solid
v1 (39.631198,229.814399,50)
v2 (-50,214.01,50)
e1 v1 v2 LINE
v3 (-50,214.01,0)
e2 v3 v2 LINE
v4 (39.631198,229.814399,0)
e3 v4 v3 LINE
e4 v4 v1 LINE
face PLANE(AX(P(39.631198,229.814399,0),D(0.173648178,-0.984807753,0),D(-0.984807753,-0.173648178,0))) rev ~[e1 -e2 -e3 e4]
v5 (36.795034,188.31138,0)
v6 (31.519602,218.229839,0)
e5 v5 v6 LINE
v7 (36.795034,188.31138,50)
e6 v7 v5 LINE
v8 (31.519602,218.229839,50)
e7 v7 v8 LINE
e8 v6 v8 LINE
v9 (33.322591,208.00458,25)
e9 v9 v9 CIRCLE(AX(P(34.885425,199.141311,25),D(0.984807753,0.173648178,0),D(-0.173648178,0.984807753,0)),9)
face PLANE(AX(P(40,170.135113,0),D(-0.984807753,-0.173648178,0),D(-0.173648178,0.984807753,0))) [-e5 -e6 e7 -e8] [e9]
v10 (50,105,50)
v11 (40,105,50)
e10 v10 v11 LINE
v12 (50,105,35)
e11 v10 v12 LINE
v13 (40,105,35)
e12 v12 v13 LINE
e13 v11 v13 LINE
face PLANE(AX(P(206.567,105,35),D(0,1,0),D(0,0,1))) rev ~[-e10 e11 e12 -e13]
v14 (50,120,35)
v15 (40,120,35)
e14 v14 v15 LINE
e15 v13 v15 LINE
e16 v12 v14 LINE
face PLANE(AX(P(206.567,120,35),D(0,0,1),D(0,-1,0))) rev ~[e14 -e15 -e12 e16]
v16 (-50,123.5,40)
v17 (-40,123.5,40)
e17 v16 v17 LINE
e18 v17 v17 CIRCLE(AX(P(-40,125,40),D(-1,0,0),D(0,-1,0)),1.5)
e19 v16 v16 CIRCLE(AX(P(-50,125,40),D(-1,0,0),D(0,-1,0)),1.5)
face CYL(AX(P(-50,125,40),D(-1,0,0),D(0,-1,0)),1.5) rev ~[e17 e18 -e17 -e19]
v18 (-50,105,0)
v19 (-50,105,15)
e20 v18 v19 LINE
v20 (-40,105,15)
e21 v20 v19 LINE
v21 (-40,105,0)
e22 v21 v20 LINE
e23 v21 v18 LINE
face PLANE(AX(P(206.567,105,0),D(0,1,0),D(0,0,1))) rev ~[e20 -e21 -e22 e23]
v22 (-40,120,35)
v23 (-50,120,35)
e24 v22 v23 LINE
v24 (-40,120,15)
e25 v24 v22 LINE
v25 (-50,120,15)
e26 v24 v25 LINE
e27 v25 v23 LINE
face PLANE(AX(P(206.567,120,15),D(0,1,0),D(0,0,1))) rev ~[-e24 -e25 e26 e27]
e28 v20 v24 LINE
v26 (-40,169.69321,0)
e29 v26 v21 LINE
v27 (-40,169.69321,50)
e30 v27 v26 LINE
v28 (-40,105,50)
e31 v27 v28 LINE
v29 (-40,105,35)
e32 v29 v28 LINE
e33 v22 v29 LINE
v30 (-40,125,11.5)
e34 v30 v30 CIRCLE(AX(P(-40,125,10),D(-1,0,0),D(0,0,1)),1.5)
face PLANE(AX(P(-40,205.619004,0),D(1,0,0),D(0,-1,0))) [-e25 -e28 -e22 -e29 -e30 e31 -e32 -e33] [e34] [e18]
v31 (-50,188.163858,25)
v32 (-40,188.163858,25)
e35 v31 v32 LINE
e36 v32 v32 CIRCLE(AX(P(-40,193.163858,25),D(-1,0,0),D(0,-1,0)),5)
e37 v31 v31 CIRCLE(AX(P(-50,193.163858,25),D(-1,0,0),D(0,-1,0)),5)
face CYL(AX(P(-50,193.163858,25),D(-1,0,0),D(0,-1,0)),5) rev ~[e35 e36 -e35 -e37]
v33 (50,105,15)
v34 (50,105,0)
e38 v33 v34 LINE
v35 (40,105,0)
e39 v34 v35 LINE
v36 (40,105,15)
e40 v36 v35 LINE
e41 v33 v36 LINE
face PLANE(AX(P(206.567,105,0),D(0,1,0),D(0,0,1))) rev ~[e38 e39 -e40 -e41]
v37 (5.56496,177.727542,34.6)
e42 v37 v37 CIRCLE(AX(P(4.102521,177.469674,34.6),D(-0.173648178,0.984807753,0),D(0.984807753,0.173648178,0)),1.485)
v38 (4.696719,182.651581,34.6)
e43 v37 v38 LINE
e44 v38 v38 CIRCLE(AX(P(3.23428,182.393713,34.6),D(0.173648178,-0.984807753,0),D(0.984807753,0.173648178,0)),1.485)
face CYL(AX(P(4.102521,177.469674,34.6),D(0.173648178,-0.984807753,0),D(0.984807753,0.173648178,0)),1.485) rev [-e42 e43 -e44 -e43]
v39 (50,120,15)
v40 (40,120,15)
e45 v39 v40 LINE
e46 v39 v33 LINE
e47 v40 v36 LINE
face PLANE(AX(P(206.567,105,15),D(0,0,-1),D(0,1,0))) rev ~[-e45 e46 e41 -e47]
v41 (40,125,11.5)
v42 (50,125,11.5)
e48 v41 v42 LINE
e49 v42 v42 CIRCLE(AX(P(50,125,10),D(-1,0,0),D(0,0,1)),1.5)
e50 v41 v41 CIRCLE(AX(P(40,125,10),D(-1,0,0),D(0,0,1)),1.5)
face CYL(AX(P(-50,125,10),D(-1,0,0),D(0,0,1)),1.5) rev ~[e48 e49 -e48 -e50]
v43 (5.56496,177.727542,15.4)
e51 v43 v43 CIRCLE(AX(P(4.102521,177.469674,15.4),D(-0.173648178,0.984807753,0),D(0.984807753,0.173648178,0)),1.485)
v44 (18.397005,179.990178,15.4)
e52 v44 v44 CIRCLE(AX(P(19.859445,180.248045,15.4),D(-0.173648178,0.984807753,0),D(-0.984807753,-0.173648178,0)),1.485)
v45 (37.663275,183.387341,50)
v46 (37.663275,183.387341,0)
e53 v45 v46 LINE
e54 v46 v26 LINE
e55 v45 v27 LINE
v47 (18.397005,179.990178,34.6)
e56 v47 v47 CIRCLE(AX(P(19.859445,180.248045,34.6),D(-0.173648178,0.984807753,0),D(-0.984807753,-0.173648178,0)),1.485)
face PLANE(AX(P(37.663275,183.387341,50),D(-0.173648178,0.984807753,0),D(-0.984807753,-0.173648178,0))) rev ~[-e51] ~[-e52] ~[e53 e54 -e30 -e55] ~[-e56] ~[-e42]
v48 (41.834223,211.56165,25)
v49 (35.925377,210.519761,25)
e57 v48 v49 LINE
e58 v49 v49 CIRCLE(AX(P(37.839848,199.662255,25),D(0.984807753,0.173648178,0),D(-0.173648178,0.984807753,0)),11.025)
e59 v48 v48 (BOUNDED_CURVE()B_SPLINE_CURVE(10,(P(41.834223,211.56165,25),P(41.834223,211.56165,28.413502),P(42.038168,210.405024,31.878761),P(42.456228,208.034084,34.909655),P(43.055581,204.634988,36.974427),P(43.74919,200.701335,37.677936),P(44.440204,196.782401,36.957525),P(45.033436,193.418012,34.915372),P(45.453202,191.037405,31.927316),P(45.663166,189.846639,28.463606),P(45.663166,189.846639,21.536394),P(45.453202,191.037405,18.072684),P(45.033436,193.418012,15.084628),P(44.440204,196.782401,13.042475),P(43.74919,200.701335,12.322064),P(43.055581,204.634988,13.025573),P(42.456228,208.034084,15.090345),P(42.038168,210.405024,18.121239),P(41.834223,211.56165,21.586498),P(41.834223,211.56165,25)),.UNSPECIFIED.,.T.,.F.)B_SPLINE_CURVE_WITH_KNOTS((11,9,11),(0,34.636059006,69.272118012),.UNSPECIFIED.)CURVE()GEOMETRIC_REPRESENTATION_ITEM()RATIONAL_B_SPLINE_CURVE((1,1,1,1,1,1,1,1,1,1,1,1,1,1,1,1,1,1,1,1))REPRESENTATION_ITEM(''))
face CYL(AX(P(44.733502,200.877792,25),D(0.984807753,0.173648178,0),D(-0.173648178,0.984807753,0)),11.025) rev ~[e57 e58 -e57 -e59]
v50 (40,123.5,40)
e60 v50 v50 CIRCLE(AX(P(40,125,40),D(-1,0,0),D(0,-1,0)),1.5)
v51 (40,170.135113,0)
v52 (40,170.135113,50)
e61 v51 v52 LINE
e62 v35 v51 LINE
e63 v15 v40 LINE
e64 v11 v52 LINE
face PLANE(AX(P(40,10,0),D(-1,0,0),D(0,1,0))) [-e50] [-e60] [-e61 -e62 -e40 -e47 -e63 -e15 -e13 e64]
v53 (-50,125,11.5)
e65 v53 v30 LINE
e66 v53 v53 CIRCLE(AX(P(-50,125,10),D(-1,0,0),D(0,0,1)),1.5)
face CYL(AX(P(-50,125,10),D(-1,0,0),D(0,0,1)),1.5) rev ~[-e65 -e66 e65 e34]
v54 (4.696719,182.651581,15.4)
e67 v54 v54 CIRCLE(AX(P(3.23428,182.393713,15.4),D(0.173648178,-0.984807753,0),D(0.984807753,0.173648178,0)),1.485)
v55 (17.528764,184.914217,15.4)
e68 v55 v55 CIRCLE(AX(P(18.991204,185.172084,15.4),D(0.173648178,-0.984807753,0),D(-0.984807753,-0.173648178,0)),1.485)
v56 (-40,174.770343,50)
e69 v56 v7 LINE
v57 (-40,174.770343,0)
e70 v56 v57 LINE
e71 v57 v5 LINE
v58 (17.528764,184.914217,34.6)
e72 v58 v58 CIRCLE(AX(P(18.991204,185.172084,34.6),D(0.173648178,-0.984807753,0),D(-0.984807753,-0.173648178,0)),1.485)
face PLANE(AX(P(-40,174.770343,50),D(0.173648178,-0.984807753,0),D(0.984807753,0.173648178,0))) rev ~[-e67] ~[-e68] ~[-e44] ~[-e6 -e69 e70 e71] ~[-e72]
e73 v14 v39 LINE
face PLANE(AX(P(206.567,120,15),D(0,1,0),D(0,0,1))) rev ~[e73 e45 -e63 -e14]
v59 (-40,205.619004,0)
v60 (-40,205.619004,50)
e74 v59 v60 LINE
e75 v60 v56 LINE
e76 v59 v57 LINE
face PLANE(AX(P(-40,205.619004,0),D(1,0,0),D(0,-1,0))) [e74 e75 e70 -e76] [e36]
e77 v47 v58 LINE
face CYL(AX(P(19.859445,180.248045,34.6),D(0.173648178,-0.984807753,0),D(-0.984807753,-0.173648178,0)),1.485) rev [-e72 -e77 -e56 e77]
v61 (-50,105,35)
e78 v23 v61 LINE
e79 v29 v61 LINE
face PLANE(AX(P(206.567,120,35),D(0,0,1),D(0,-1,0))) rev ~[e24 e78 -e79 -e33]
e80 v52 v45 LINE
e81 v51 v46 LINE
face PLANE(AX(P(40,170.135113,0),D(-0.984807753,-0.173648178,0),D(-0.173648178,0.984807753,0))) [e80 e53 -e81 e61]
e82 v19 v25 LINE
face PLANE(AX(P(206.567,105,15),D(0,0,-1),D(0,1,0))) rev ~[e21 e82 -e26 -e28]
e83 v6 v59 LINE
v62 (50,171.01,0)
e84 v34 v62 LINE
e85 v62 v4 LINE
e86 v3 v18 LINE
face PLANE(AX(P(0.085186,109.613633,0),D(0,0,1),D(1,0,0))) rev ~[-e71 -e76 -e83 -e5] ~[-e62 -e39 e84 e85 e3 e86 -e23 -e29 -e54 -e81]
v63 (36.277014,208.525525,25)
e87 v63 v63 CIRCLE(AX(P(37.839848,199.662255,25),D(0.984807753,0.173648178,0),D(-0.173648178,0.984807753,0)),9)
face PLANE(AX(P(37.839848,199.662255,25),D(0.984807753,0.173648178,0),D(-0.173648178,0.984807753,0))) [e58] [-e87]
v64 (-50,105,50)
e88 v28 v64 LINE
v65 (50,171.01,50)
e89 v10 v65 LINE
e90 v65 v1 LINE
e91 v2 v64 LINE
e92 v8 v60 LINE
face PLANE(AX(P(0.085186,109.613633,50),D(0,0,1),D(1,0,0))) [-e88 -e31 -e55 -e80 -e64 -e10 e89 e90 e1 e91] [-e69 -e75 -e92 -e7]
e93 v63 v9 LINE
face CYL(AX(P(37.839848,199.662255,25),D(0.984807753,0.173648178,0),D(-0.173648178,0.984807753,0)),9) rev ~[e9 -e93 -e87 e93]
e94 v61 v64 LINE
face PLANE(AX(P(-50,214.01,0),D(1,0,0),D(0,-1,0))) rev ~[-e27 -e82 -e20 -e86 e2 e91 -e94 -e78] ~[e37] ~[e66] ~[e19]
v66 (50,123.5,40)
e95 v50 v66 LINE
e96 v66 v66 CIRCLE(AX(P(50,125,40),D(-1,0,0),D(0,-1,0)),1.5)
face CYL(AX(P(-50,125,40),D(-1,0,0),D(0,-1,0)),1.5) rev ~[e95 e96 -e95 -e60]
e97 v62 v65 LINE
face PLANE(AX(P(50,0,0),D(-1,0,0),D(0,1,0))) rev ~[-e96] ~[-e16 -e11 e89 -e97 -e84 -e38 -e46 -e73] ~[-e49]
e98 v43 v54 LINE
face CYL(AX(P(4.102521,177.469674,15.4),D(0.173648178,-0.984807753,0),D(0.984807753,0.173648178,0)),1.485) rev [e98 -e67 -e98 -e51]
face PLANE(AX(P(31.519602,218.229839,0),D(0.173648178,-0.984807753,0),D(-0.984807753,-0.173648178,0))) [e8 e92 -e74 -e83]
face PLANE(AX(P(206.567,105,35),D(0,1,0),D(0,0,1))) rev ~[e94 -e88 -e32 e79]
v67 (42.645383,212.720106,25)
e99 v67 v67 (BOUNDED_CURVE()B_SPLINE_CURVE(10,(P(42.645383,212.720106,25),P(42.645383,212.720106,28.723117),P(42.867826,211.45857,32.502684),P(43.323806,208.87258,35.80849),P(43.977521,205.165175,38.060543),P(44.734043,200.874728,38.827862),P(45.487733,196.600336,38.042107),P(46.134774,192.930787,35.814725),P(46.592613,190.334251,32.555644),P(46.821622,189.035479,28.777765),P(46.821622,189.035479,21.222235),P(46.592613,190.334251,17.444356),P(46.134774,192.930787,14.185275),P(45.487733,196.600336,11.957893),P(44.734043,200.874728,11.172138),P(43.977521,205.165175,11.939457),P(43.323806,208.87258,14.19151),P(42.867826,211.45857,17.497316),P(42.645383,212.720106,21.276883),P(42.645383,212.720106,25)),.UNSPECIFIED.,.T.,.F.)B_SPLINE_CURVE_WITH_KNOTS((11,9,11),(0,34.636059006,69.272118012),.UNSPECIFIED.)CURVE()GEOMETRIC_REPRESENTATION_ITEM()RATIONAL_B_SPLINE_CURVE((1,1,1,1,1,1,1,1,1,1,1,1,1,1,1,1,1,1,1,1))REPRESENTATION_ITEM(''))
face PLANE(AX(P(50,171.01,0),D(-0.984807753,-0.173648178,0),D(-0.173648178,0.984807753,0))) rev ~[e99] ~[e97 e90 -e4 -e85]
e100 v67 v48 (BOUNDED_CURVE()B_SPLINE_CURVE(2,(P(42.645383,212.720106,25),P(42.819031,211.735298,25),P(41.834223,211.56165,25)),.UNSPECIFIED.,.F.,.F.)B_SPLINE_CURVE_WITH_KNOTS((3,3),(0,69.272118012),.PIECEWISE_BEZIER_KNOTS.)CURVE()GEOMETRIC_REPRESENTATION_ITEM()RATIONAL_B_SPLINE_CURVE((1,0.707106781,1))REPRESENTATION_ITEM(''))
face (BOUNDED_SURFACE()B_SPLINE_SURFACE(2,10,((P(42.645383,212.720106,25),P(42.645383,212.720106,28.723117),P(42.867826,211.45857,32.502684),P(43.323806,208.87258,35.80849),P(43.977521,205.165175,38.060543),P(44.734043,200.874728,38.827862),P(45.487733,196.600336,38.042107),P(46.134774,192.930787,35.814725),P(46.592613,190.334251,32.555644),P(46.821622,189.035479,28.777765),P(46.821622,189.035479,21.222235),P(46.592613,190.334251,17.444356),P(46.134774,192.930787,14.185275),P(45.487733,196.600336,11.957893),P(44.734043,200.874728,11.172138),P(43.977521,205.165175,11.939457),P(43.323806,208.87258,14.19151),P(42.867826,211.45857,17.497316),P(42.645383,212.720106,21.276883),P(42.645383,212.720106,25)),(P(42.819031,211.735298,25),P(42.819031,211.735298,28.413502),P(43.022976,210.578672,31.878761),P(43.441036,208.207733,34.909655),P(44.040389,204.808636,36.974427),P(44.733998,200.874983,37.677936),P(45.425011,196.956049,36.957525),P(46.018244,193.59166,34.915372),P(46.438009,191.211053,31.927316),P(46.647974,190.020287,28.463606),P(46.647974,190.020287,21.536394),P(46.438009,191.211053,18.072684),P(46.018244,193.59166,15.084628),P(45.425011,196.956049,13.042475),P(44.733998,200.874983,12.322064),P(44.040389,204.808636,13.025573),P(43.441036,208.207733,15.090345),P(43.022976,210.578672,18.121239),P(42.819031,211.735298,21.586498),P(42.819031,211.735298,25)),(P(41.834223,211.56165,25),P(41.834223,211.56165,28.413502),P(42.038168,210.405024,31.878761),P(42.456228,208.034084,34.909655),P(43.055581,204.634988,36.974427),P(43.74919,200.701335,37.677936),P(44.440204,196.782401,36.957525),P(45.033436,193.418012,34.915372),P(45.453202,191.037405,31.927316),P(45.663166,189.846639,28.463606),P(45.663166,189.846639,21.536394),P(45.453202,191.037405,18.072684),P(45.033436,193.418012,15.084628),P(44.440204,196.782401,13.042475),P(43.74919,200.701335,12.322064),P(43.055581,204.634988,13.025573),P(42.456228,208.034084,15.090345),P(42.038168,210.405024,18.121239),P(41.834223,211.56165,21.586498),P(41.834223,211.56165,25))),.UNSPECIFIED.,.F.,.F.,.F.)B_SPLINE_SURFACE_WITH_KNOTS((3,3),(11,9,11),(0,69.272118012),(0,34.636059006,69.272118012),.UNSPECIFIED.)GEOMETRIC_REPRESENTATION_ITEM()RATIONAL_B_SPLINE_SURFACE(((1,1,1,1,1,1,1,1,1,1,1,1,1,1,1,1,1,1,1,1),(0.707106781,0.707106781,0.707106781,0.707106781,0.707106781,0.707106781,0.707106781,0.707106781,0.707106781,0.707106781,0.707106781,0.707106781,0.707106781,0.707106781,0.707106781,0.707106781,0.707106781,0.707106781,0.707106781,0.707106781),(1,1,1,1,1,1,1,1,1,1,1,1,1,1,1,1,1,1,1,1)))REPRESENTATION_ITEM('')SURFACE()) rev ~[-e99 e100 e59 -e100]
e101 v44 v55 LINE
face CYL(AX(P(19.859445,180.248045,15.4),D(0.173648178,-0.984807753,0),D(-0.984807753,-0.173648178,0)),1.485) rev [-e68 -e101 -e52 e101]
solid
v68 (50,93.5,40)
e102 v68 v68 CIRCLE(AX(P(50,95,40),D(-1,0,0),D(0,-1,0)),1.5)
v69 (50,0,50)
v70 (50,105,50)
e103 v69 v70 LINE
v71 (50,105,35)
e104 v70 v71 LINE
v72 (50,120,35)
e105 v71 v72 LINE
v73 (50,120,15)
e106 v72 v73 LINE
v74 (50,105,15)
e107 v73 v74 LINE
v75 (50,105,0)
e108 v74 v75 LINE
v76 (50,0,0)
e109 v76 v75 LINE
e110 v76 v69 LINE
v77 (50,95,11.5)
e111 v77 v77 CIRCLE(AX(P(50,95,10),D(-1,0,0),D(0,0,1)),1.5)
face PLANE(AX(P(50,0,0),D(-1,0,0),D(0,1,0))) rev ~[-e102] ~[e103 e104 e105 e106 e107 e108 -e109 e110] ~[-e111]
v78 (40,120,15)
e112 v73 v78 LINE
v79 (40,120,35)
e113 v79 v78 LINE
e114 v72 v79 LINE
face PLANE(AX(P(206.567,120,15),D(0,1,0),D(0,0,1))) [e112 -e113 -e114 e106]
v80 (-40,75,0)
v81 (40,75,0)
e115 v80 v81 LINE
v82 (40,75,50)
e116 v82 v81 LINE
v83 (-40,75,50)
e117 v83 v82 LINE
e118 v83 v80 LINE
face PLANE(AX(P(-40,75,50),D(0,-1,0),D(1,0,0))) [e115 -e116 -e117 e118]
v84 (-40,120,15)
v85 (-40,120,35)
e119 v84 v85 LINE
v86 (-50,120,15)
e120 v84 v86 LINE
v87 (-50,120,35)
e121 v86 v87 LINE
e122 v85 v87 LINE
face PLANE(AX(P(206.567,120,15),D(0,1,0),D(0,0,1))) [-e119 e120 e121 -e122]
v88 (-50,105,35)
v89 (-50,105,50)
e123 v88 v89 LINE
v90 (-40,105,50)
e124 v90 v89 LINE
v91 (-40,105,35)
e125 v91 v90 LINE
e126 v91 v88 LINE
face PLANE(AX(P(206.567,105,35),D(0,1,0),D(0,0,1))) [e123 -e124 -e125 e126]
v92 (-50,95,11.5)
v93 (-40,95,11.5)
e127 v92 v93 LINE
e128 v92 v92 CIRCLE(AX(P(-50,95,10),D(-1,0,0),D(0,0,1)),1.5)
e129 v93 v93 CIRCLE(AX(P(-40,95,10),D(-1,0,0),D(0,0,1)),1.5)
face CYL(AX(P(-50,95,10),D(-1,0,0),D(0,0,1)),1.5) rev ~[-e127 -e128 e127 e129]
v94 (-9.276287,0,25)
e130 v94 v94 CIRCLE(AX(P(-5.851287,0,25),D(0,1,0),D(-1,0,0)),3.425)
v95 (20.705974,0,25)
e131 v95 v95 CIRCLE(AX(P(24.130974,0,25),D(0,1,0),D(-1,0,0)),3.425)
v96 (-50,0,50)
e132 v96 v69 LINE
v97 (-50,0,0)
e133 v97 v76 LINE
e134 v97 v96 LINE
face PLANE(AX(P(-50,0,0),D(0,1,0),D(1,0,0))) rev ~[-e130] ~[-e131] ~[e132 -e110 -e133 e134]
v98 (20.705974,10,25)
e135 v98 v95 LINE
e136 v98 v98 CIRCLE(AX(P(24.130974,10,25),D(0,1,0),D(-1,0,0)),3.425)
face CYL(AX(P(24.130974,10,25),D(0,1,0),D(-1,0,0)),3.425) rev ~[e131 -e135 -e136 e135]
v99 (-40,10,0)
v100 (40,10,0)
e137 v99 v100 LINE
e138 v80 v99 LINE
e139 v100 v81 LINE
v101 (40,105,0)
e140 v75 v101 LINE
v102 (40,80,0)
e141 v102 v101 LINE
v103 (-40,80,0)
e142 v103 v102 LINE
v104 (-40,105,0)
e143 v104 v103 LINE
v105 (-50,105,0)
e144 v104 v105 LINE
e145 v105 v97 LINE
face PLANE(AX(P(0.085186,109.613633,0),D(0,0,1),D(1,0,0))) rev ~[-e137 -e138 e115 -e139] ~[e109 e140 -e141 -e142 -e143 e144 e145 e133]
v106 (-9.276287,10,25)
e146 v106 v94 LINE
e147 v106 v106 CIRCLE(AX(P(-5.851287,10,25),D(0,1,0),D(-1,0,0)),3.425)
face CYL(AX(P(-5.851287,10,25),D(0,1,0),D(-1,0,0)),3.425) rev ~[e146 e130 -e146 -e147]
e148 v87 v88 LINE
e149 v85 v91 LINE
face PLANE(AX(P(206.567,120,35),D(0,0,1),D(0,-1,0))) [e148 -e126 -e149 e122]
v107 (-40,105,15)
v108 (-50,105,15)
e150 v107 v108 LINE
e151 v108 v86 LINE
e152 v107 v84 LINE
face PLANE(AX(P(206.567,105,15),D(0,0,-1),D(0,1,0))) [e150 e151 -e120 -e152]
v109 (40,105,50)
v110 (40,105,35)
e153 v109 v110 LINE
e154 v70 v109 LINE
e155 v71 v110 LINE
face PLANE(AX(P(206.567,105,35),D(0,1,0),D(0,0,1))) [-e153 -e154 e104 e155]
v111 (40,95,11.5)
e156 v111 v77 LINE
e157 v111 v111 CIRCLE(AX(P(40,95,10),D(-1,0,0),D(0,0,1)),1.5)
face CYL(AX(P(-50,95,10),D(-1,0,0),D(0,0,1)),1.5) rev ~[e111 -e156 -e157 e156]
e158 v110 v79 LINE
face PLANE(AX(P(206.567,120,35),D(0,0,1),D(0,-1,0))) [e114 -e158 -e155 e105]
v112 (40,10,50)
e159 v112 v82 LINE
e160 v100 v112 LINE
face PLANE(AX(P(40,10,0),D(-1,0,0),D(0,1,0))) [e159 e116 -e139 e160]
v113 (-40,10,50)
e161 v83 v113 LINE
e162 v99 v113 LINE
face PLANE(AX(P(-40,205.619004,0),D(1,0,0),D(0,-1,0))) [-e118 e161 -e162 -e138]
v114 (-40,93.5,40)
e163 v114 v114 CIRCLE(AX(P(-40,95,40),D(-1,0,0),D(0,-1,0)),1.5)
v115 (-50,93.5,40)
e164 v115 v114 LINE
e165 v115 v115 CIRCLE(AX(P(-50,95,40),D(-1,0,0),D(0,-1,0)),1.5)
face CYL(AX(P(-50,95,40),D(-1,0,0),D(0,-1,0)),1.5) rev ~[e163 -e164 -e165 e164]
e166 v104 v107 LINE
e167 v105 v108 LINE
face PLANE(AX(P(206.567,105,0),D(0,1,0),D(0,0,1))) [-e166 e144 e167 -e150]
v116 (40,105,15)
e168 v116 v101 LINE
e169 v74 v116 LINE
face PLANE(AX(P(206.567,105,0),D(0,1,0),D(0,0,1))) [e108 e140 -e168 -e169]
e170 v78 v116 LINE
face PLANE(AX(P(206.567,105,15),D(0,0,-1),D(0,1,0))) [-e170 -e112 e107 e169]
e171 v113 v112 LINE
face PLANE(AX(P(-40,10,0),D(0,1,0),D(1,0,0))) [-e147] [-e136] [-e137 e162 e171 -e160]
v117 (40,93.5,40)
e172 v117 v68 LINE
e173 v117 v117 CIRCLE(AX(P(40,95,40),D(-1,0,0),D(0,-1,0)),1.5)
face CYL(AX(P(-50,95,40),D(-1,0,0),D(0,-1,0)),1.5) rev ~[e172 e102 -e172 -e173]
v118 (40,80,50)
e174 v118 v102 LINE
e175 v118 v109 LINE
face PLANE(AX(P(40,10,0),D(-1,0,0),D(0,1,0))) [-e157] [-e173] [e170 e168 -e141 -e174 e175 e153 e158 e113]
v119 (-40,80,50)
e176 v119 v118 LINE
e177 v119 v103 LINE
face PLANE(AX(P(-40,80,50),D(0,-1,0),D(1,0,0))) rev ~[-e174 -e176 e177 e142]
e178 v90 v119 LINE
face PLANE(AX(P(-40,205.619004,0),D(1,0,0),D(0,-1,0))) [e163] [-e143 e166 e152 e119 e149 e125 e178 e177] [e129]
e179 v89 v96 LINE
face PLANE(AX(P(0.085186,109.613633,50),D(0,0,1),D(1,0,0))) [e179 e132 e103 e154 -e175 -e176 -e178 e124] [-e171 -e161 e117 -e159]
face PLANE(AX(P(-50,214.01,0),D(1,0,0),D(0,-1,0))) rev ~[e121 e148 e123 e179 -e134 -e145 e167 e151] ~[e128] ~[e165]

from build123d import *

# Parameters (mm, degrees)
BOSS_EXTRUDE1_DEPTH    = 50
SKETCH4_R              = 11.025
CUT_EXTRUDE1_DEPTH     = 7
SKETCH5_R              = 9
CUT_EXTRUDE2_DEPTH     = 7
BOSS_EXTRUDE2_DEPTH    = 50
SKETCH8_R              = 5
CUT_EXTRUDE3_DEPTH     = 10
CUT_EXTRUDE4_REACH     = 271.61
SKETCH9_R              = 1.485
SKETCH10_R             = 3.425
CUT_EXTRUDE5_DEPTH     = 10
SKETCH11_W             = 80
SKETCH11_H             = 5
BOSS_EXTRUDE3_DEPTH    = 50
FILLET1_R              = 1
SKETCH14_R             = 1.5
CUT_EXTRUDE6_DEPTH     = 256.567325306
SPLIT1_SURFACE_1_BACK  = 256.567
SPLIT1_SURFACE_1_DEPTH = 513.134
SPLIT1_SURFACE_2_BACK  = 256.567
SPLIT1_SURFACE_2_DEPTH = 513.134


with BuildPart() as part:
    # Sketch2 → Boss-Extrude1 (new body)
    with BuildSketch(Plane.XY):
        Polygon((-50, 214.01), (-50, 0), (50, 0), (50, 171.01), (39.631197958, 229.814398513), align=None)
        Polygon((-40, 205.619003688), (-40, 10), (40, 10), (40, 170.135113365), (31.519602204, 218.229839206), align=None, mode=Mode.SUBTRACT)
    extrude(amount=BOSS_EXTRUDE1_DEPTH)

    # Sketch4 → Cut-Extrude1 (cut)
    with BuildSketch(Plane(origin=(77.736747875, 13.707086043, 0), x_dir=(0, 0, -1), z_dir=(0.9848077530122079, 0.17364817766693136, 0))):
        with Locations(Location((-25, 190.058116105, 0), (0, 0, 90))):
            Circle(SKETCH4_R)
    extrude(amount=-CUT_EXTRUDE1_DEPTH, mode=Mode.SUBTRACT)

    # Sketch5 → Cut-Extrude2 (cut)
    with BuildSketch(Plane(origin=(70.843093604, 12.491548799, 0), x_dir=(0, 0, -1), z_dir=(0.9848077530122079, 0.17364817766693136, 0))):
        with Locations(Location((-25, 190.058116105, 0), (0, 0, 90))):
            Circle(SKETCH5_R)
    extrude(amount=-CUT_EXTRUDE2_DEPTH, mode=Mode.SUBTRACT)

    # Sketch7 → Boss-Extrude2 (add)
    with BuildSketch(Plane.XY.offset(50)):
        Polygon((36.795033842, 188.31137967), (37.66327473, 183.387340905), (-40, 169.69321016), (-40, 174.770343219), align=None)
    extrude(amount=-BOSS_EXTRUDE2_DEPTH)

    # Sketch8 → Cut-Extrude3 (cut)
    with BuildSketch(Plane.ZY.offset(50)):
        with Locations(Location((25, 193.163858422, 0), (0, 0, 270))):
            Circle(SKETCH8_R)
    extrude(amount=-CUT_EXTRUDE3_DEPTH, mode=Mode.SUBTRACT)

    # Sketch9 → Cut-Extrude4 (cut, up to next)
    with BuildSketch(Plane(origin=(125.115031087, 198.807445061, 0), x_dir=(-0.9848077530122079, -0.17364817766693152, 0), z_dir=(-0.17364817766693152, 0.9848077530122079, 0)), mode=Mode.PRIVATE) as cut_extrude4_sk1:
        with Locations((106.879323392, 15.4)):
            Circle(SKETCH9_R)
    cut_extrude4_tool1 = extrude(cut_extrude4_sk1.sketch, amount=CUT_EXTRUDE4_REACH, mode=Mode.PRIVATE) & part.part
    # Sketch9 → Cut-Extrude4 (cut, up to next)
    with BuildSketch(Plane(origin=(125.115031087, 198.807445061, 0), x_dir=(-0.9848077530122079, -0.17364817766693152, 0), z_dir=(-0.17364817766693152, 0.9848077530122079, 0)), mode=Mode.PRIVATE) as cut_extrude4_sk2:
        with Locations((106.879323392, 34.6)):
            Circle(SKETCH9_R)
    cut_extrude4_tool2 = extrude(cut_extrude4_sk2.sketch, amount=CUT_EXTRUDE4_REACH, mode=Mode.PRIVATE) & part.part
    # Sketch9 → Cut-Extrude4 (cut, up to next)
    with BuildSketch(Plane(origin=(125.115031087, 198.807445061, 0), x_dir=(-0.9848077530122079, -0.17364817766693152, 0), z_dir=(-0.17364817766693152, 0.9848077530122079, 0)), mode=Mode.PRIVATE) as cut_extrude4_sk3:
        with Locations(Location((122.879323392, 34.6, 0), (0, 0, 180))):
            Circle(SKETCH9_R)
    cut_extrude4_tool3 = extrude(cut_extrude4_sk3.sketch, amount=CUT_EXTRUDE4_REACH, mode=Mode.PRIVATE) & part.part
    # Sketch9 → Cut-Extrude4 (cut, up to next)
    with BuildSketch(Plane(origin=(125.115031087, 198.807445061, 0), x_dir=(-0.9848077530122079, -0.17364817766693152, 0), z_dir=(-0.17364817766693152, 0.9848077530122079, 0)), mode=Mode.PRIVATE) as cut_extrude4_sk4:
        with Locations(Location((122.879323392, 15.4, 0), (0, 0, 180))):
            Circle(SKETCH9_R)
    cut_extrude4_tool4 = extrude(cut_extrude4_sk4.sketch, amount=CUT_EXTRUDE4_REACH, mode=Mode.PRIVATE) & part.part
    add(cut_extrude4_tool1.solids().sort_by_distance((19.859445, 180.248045, 15.4))[0], mode=Mode.SUBTRACT)
    add(cut_extrude4_tool2.solids().sort_by_distance((19.859445, 180.248045, 34.6))[0], mode=Mode.SUBTRACT)
    add(cut_extrude4_tool3.solids().sort_by_distance((4.102521, 177.469674, 34.6))[0], mode=Mode.SUBTRACT)
    add(cut_extrude4_tool4.solids().sort_by_distance((4.102521, 177.469674, 15.4))[0], mode=Mode.SUBTRACT)

    # Sketch10 → Cut-Extrude5 (cut)
    with BuildSketch(Plane(origin=(0, 10, 0), x_dir=(1, 0, 0), z_dir=(0, 1, 0))):
        with Locations(Location((-5.851287133, -25, 0), (0, 0, 180))):
            Circle(SKETCH10_R)
        with Locations(Location((24.130974018, -25, 0), (0, 0, 180))):
            Circle(SKETCH10_R)
    extrude(amount=-CUT_EXTRUDE5_DEPTH, mode=Mode.SUBTRACT)

    # Sketch11 → Boss-Extrude3 (add)
    with BuildSketch(Plane.XY.offset(50)):
        with Locations((0, 77.5)):
            Rectangle(SKETCH11_W, SKETCH11_H)
    extrude(amount=-BOSS_EXTRUDE3_DEPTH)

    # Fillet1
    fillet1_edges = [part.edges().sort_by_distance(p)[0] for p in [
        (46.647973521, 190.020286829, 25),
    ]]
    fillet(fillet1_edges, radius=FILLET1_R)

    # Sketch14 → Cut-Extrude6 (cut, through all)
    with BuildSketch(Plane.ZY.offset(50)):
        with Locations(Location((40, 125, 0), (0, 0, 270))):
            Circle(SKETCH14_R)
        with Locations(Location((40, 95, 0), (0, 0, 270))):
            Circle(SKETCH14_R)
        with Locations((10, 95)):
            Circle(SKETCH14_R)
        with Locations((10, 125)):
            Circle(SKETCH14_R)
    extrude(amount=-CUT_EXTRUDE6_DEPTH, mode=Mode.SUBTRACT)


with BuildPart() as body_2:
    # Split1: the piece behind the surface
    add(part.part)
    # Split1 surface: a surface, the sketch's curves swept straight by 513.134 mm
    with BuildLine(Plane.ZY.offset(50).offset(-SPLIT1_SURFACE_1_BACK), mode=Mode.PRIVATE) as split1_surface_1_path:
        Line((0, 105), (15, 105))
        Line((15, 105), (15, 120))
        Line((15, 120), (35, 120))
        Line((35, 120), (35, 105))
        Line((35, 105), (50, 105))
    split1_surface_1 = Shell.extrude(split1_surface_1_path.wire(), (-1 * SPLIT1_SURFACE_1_DEPTH, 0 * SPLIT1_SURFACE_1_DEPTH, 0 * SPLIT1_SURFACE_1_DEPTH))
    split(bisect_by=split1_surface_1, keep=Keep.BOTTOM)


with BuildPart() as part_1:
    add(part.part)

    # Split1: split by a surface, the side it looks to stays
    # Split1 surface: a surface, the sketch's curves swept straight by 513.134 mm
    with BuildLine(Plane.ZY.offset(50).offset(-SPLIT1_SURFACE_2_BACK), mode=Mode.PRIVATE) as split1_surface_2_path:
        Line((0, 105), (15, 105))
        Line((15, 105), (15, 120))
        Line((15, 120), (35, 120))
        Line((35, 120), (35, 105))
        Line((35, 105), (50, 105))
    split1_surface_2 = Shell.extrude(split1_surface_2_path.wire(), (-1 * SPLIT1_SURFACE_2_DEPTH, 0 * SPLIT1_SURFACE_2_DEPTH, 0 * SPLIT1_SURFACE_2_DEPTH))
    split(bisect_by=split1_surface_2, keep=Keep.TOP)


solid = Compound([body_2.part, part_1.part])
